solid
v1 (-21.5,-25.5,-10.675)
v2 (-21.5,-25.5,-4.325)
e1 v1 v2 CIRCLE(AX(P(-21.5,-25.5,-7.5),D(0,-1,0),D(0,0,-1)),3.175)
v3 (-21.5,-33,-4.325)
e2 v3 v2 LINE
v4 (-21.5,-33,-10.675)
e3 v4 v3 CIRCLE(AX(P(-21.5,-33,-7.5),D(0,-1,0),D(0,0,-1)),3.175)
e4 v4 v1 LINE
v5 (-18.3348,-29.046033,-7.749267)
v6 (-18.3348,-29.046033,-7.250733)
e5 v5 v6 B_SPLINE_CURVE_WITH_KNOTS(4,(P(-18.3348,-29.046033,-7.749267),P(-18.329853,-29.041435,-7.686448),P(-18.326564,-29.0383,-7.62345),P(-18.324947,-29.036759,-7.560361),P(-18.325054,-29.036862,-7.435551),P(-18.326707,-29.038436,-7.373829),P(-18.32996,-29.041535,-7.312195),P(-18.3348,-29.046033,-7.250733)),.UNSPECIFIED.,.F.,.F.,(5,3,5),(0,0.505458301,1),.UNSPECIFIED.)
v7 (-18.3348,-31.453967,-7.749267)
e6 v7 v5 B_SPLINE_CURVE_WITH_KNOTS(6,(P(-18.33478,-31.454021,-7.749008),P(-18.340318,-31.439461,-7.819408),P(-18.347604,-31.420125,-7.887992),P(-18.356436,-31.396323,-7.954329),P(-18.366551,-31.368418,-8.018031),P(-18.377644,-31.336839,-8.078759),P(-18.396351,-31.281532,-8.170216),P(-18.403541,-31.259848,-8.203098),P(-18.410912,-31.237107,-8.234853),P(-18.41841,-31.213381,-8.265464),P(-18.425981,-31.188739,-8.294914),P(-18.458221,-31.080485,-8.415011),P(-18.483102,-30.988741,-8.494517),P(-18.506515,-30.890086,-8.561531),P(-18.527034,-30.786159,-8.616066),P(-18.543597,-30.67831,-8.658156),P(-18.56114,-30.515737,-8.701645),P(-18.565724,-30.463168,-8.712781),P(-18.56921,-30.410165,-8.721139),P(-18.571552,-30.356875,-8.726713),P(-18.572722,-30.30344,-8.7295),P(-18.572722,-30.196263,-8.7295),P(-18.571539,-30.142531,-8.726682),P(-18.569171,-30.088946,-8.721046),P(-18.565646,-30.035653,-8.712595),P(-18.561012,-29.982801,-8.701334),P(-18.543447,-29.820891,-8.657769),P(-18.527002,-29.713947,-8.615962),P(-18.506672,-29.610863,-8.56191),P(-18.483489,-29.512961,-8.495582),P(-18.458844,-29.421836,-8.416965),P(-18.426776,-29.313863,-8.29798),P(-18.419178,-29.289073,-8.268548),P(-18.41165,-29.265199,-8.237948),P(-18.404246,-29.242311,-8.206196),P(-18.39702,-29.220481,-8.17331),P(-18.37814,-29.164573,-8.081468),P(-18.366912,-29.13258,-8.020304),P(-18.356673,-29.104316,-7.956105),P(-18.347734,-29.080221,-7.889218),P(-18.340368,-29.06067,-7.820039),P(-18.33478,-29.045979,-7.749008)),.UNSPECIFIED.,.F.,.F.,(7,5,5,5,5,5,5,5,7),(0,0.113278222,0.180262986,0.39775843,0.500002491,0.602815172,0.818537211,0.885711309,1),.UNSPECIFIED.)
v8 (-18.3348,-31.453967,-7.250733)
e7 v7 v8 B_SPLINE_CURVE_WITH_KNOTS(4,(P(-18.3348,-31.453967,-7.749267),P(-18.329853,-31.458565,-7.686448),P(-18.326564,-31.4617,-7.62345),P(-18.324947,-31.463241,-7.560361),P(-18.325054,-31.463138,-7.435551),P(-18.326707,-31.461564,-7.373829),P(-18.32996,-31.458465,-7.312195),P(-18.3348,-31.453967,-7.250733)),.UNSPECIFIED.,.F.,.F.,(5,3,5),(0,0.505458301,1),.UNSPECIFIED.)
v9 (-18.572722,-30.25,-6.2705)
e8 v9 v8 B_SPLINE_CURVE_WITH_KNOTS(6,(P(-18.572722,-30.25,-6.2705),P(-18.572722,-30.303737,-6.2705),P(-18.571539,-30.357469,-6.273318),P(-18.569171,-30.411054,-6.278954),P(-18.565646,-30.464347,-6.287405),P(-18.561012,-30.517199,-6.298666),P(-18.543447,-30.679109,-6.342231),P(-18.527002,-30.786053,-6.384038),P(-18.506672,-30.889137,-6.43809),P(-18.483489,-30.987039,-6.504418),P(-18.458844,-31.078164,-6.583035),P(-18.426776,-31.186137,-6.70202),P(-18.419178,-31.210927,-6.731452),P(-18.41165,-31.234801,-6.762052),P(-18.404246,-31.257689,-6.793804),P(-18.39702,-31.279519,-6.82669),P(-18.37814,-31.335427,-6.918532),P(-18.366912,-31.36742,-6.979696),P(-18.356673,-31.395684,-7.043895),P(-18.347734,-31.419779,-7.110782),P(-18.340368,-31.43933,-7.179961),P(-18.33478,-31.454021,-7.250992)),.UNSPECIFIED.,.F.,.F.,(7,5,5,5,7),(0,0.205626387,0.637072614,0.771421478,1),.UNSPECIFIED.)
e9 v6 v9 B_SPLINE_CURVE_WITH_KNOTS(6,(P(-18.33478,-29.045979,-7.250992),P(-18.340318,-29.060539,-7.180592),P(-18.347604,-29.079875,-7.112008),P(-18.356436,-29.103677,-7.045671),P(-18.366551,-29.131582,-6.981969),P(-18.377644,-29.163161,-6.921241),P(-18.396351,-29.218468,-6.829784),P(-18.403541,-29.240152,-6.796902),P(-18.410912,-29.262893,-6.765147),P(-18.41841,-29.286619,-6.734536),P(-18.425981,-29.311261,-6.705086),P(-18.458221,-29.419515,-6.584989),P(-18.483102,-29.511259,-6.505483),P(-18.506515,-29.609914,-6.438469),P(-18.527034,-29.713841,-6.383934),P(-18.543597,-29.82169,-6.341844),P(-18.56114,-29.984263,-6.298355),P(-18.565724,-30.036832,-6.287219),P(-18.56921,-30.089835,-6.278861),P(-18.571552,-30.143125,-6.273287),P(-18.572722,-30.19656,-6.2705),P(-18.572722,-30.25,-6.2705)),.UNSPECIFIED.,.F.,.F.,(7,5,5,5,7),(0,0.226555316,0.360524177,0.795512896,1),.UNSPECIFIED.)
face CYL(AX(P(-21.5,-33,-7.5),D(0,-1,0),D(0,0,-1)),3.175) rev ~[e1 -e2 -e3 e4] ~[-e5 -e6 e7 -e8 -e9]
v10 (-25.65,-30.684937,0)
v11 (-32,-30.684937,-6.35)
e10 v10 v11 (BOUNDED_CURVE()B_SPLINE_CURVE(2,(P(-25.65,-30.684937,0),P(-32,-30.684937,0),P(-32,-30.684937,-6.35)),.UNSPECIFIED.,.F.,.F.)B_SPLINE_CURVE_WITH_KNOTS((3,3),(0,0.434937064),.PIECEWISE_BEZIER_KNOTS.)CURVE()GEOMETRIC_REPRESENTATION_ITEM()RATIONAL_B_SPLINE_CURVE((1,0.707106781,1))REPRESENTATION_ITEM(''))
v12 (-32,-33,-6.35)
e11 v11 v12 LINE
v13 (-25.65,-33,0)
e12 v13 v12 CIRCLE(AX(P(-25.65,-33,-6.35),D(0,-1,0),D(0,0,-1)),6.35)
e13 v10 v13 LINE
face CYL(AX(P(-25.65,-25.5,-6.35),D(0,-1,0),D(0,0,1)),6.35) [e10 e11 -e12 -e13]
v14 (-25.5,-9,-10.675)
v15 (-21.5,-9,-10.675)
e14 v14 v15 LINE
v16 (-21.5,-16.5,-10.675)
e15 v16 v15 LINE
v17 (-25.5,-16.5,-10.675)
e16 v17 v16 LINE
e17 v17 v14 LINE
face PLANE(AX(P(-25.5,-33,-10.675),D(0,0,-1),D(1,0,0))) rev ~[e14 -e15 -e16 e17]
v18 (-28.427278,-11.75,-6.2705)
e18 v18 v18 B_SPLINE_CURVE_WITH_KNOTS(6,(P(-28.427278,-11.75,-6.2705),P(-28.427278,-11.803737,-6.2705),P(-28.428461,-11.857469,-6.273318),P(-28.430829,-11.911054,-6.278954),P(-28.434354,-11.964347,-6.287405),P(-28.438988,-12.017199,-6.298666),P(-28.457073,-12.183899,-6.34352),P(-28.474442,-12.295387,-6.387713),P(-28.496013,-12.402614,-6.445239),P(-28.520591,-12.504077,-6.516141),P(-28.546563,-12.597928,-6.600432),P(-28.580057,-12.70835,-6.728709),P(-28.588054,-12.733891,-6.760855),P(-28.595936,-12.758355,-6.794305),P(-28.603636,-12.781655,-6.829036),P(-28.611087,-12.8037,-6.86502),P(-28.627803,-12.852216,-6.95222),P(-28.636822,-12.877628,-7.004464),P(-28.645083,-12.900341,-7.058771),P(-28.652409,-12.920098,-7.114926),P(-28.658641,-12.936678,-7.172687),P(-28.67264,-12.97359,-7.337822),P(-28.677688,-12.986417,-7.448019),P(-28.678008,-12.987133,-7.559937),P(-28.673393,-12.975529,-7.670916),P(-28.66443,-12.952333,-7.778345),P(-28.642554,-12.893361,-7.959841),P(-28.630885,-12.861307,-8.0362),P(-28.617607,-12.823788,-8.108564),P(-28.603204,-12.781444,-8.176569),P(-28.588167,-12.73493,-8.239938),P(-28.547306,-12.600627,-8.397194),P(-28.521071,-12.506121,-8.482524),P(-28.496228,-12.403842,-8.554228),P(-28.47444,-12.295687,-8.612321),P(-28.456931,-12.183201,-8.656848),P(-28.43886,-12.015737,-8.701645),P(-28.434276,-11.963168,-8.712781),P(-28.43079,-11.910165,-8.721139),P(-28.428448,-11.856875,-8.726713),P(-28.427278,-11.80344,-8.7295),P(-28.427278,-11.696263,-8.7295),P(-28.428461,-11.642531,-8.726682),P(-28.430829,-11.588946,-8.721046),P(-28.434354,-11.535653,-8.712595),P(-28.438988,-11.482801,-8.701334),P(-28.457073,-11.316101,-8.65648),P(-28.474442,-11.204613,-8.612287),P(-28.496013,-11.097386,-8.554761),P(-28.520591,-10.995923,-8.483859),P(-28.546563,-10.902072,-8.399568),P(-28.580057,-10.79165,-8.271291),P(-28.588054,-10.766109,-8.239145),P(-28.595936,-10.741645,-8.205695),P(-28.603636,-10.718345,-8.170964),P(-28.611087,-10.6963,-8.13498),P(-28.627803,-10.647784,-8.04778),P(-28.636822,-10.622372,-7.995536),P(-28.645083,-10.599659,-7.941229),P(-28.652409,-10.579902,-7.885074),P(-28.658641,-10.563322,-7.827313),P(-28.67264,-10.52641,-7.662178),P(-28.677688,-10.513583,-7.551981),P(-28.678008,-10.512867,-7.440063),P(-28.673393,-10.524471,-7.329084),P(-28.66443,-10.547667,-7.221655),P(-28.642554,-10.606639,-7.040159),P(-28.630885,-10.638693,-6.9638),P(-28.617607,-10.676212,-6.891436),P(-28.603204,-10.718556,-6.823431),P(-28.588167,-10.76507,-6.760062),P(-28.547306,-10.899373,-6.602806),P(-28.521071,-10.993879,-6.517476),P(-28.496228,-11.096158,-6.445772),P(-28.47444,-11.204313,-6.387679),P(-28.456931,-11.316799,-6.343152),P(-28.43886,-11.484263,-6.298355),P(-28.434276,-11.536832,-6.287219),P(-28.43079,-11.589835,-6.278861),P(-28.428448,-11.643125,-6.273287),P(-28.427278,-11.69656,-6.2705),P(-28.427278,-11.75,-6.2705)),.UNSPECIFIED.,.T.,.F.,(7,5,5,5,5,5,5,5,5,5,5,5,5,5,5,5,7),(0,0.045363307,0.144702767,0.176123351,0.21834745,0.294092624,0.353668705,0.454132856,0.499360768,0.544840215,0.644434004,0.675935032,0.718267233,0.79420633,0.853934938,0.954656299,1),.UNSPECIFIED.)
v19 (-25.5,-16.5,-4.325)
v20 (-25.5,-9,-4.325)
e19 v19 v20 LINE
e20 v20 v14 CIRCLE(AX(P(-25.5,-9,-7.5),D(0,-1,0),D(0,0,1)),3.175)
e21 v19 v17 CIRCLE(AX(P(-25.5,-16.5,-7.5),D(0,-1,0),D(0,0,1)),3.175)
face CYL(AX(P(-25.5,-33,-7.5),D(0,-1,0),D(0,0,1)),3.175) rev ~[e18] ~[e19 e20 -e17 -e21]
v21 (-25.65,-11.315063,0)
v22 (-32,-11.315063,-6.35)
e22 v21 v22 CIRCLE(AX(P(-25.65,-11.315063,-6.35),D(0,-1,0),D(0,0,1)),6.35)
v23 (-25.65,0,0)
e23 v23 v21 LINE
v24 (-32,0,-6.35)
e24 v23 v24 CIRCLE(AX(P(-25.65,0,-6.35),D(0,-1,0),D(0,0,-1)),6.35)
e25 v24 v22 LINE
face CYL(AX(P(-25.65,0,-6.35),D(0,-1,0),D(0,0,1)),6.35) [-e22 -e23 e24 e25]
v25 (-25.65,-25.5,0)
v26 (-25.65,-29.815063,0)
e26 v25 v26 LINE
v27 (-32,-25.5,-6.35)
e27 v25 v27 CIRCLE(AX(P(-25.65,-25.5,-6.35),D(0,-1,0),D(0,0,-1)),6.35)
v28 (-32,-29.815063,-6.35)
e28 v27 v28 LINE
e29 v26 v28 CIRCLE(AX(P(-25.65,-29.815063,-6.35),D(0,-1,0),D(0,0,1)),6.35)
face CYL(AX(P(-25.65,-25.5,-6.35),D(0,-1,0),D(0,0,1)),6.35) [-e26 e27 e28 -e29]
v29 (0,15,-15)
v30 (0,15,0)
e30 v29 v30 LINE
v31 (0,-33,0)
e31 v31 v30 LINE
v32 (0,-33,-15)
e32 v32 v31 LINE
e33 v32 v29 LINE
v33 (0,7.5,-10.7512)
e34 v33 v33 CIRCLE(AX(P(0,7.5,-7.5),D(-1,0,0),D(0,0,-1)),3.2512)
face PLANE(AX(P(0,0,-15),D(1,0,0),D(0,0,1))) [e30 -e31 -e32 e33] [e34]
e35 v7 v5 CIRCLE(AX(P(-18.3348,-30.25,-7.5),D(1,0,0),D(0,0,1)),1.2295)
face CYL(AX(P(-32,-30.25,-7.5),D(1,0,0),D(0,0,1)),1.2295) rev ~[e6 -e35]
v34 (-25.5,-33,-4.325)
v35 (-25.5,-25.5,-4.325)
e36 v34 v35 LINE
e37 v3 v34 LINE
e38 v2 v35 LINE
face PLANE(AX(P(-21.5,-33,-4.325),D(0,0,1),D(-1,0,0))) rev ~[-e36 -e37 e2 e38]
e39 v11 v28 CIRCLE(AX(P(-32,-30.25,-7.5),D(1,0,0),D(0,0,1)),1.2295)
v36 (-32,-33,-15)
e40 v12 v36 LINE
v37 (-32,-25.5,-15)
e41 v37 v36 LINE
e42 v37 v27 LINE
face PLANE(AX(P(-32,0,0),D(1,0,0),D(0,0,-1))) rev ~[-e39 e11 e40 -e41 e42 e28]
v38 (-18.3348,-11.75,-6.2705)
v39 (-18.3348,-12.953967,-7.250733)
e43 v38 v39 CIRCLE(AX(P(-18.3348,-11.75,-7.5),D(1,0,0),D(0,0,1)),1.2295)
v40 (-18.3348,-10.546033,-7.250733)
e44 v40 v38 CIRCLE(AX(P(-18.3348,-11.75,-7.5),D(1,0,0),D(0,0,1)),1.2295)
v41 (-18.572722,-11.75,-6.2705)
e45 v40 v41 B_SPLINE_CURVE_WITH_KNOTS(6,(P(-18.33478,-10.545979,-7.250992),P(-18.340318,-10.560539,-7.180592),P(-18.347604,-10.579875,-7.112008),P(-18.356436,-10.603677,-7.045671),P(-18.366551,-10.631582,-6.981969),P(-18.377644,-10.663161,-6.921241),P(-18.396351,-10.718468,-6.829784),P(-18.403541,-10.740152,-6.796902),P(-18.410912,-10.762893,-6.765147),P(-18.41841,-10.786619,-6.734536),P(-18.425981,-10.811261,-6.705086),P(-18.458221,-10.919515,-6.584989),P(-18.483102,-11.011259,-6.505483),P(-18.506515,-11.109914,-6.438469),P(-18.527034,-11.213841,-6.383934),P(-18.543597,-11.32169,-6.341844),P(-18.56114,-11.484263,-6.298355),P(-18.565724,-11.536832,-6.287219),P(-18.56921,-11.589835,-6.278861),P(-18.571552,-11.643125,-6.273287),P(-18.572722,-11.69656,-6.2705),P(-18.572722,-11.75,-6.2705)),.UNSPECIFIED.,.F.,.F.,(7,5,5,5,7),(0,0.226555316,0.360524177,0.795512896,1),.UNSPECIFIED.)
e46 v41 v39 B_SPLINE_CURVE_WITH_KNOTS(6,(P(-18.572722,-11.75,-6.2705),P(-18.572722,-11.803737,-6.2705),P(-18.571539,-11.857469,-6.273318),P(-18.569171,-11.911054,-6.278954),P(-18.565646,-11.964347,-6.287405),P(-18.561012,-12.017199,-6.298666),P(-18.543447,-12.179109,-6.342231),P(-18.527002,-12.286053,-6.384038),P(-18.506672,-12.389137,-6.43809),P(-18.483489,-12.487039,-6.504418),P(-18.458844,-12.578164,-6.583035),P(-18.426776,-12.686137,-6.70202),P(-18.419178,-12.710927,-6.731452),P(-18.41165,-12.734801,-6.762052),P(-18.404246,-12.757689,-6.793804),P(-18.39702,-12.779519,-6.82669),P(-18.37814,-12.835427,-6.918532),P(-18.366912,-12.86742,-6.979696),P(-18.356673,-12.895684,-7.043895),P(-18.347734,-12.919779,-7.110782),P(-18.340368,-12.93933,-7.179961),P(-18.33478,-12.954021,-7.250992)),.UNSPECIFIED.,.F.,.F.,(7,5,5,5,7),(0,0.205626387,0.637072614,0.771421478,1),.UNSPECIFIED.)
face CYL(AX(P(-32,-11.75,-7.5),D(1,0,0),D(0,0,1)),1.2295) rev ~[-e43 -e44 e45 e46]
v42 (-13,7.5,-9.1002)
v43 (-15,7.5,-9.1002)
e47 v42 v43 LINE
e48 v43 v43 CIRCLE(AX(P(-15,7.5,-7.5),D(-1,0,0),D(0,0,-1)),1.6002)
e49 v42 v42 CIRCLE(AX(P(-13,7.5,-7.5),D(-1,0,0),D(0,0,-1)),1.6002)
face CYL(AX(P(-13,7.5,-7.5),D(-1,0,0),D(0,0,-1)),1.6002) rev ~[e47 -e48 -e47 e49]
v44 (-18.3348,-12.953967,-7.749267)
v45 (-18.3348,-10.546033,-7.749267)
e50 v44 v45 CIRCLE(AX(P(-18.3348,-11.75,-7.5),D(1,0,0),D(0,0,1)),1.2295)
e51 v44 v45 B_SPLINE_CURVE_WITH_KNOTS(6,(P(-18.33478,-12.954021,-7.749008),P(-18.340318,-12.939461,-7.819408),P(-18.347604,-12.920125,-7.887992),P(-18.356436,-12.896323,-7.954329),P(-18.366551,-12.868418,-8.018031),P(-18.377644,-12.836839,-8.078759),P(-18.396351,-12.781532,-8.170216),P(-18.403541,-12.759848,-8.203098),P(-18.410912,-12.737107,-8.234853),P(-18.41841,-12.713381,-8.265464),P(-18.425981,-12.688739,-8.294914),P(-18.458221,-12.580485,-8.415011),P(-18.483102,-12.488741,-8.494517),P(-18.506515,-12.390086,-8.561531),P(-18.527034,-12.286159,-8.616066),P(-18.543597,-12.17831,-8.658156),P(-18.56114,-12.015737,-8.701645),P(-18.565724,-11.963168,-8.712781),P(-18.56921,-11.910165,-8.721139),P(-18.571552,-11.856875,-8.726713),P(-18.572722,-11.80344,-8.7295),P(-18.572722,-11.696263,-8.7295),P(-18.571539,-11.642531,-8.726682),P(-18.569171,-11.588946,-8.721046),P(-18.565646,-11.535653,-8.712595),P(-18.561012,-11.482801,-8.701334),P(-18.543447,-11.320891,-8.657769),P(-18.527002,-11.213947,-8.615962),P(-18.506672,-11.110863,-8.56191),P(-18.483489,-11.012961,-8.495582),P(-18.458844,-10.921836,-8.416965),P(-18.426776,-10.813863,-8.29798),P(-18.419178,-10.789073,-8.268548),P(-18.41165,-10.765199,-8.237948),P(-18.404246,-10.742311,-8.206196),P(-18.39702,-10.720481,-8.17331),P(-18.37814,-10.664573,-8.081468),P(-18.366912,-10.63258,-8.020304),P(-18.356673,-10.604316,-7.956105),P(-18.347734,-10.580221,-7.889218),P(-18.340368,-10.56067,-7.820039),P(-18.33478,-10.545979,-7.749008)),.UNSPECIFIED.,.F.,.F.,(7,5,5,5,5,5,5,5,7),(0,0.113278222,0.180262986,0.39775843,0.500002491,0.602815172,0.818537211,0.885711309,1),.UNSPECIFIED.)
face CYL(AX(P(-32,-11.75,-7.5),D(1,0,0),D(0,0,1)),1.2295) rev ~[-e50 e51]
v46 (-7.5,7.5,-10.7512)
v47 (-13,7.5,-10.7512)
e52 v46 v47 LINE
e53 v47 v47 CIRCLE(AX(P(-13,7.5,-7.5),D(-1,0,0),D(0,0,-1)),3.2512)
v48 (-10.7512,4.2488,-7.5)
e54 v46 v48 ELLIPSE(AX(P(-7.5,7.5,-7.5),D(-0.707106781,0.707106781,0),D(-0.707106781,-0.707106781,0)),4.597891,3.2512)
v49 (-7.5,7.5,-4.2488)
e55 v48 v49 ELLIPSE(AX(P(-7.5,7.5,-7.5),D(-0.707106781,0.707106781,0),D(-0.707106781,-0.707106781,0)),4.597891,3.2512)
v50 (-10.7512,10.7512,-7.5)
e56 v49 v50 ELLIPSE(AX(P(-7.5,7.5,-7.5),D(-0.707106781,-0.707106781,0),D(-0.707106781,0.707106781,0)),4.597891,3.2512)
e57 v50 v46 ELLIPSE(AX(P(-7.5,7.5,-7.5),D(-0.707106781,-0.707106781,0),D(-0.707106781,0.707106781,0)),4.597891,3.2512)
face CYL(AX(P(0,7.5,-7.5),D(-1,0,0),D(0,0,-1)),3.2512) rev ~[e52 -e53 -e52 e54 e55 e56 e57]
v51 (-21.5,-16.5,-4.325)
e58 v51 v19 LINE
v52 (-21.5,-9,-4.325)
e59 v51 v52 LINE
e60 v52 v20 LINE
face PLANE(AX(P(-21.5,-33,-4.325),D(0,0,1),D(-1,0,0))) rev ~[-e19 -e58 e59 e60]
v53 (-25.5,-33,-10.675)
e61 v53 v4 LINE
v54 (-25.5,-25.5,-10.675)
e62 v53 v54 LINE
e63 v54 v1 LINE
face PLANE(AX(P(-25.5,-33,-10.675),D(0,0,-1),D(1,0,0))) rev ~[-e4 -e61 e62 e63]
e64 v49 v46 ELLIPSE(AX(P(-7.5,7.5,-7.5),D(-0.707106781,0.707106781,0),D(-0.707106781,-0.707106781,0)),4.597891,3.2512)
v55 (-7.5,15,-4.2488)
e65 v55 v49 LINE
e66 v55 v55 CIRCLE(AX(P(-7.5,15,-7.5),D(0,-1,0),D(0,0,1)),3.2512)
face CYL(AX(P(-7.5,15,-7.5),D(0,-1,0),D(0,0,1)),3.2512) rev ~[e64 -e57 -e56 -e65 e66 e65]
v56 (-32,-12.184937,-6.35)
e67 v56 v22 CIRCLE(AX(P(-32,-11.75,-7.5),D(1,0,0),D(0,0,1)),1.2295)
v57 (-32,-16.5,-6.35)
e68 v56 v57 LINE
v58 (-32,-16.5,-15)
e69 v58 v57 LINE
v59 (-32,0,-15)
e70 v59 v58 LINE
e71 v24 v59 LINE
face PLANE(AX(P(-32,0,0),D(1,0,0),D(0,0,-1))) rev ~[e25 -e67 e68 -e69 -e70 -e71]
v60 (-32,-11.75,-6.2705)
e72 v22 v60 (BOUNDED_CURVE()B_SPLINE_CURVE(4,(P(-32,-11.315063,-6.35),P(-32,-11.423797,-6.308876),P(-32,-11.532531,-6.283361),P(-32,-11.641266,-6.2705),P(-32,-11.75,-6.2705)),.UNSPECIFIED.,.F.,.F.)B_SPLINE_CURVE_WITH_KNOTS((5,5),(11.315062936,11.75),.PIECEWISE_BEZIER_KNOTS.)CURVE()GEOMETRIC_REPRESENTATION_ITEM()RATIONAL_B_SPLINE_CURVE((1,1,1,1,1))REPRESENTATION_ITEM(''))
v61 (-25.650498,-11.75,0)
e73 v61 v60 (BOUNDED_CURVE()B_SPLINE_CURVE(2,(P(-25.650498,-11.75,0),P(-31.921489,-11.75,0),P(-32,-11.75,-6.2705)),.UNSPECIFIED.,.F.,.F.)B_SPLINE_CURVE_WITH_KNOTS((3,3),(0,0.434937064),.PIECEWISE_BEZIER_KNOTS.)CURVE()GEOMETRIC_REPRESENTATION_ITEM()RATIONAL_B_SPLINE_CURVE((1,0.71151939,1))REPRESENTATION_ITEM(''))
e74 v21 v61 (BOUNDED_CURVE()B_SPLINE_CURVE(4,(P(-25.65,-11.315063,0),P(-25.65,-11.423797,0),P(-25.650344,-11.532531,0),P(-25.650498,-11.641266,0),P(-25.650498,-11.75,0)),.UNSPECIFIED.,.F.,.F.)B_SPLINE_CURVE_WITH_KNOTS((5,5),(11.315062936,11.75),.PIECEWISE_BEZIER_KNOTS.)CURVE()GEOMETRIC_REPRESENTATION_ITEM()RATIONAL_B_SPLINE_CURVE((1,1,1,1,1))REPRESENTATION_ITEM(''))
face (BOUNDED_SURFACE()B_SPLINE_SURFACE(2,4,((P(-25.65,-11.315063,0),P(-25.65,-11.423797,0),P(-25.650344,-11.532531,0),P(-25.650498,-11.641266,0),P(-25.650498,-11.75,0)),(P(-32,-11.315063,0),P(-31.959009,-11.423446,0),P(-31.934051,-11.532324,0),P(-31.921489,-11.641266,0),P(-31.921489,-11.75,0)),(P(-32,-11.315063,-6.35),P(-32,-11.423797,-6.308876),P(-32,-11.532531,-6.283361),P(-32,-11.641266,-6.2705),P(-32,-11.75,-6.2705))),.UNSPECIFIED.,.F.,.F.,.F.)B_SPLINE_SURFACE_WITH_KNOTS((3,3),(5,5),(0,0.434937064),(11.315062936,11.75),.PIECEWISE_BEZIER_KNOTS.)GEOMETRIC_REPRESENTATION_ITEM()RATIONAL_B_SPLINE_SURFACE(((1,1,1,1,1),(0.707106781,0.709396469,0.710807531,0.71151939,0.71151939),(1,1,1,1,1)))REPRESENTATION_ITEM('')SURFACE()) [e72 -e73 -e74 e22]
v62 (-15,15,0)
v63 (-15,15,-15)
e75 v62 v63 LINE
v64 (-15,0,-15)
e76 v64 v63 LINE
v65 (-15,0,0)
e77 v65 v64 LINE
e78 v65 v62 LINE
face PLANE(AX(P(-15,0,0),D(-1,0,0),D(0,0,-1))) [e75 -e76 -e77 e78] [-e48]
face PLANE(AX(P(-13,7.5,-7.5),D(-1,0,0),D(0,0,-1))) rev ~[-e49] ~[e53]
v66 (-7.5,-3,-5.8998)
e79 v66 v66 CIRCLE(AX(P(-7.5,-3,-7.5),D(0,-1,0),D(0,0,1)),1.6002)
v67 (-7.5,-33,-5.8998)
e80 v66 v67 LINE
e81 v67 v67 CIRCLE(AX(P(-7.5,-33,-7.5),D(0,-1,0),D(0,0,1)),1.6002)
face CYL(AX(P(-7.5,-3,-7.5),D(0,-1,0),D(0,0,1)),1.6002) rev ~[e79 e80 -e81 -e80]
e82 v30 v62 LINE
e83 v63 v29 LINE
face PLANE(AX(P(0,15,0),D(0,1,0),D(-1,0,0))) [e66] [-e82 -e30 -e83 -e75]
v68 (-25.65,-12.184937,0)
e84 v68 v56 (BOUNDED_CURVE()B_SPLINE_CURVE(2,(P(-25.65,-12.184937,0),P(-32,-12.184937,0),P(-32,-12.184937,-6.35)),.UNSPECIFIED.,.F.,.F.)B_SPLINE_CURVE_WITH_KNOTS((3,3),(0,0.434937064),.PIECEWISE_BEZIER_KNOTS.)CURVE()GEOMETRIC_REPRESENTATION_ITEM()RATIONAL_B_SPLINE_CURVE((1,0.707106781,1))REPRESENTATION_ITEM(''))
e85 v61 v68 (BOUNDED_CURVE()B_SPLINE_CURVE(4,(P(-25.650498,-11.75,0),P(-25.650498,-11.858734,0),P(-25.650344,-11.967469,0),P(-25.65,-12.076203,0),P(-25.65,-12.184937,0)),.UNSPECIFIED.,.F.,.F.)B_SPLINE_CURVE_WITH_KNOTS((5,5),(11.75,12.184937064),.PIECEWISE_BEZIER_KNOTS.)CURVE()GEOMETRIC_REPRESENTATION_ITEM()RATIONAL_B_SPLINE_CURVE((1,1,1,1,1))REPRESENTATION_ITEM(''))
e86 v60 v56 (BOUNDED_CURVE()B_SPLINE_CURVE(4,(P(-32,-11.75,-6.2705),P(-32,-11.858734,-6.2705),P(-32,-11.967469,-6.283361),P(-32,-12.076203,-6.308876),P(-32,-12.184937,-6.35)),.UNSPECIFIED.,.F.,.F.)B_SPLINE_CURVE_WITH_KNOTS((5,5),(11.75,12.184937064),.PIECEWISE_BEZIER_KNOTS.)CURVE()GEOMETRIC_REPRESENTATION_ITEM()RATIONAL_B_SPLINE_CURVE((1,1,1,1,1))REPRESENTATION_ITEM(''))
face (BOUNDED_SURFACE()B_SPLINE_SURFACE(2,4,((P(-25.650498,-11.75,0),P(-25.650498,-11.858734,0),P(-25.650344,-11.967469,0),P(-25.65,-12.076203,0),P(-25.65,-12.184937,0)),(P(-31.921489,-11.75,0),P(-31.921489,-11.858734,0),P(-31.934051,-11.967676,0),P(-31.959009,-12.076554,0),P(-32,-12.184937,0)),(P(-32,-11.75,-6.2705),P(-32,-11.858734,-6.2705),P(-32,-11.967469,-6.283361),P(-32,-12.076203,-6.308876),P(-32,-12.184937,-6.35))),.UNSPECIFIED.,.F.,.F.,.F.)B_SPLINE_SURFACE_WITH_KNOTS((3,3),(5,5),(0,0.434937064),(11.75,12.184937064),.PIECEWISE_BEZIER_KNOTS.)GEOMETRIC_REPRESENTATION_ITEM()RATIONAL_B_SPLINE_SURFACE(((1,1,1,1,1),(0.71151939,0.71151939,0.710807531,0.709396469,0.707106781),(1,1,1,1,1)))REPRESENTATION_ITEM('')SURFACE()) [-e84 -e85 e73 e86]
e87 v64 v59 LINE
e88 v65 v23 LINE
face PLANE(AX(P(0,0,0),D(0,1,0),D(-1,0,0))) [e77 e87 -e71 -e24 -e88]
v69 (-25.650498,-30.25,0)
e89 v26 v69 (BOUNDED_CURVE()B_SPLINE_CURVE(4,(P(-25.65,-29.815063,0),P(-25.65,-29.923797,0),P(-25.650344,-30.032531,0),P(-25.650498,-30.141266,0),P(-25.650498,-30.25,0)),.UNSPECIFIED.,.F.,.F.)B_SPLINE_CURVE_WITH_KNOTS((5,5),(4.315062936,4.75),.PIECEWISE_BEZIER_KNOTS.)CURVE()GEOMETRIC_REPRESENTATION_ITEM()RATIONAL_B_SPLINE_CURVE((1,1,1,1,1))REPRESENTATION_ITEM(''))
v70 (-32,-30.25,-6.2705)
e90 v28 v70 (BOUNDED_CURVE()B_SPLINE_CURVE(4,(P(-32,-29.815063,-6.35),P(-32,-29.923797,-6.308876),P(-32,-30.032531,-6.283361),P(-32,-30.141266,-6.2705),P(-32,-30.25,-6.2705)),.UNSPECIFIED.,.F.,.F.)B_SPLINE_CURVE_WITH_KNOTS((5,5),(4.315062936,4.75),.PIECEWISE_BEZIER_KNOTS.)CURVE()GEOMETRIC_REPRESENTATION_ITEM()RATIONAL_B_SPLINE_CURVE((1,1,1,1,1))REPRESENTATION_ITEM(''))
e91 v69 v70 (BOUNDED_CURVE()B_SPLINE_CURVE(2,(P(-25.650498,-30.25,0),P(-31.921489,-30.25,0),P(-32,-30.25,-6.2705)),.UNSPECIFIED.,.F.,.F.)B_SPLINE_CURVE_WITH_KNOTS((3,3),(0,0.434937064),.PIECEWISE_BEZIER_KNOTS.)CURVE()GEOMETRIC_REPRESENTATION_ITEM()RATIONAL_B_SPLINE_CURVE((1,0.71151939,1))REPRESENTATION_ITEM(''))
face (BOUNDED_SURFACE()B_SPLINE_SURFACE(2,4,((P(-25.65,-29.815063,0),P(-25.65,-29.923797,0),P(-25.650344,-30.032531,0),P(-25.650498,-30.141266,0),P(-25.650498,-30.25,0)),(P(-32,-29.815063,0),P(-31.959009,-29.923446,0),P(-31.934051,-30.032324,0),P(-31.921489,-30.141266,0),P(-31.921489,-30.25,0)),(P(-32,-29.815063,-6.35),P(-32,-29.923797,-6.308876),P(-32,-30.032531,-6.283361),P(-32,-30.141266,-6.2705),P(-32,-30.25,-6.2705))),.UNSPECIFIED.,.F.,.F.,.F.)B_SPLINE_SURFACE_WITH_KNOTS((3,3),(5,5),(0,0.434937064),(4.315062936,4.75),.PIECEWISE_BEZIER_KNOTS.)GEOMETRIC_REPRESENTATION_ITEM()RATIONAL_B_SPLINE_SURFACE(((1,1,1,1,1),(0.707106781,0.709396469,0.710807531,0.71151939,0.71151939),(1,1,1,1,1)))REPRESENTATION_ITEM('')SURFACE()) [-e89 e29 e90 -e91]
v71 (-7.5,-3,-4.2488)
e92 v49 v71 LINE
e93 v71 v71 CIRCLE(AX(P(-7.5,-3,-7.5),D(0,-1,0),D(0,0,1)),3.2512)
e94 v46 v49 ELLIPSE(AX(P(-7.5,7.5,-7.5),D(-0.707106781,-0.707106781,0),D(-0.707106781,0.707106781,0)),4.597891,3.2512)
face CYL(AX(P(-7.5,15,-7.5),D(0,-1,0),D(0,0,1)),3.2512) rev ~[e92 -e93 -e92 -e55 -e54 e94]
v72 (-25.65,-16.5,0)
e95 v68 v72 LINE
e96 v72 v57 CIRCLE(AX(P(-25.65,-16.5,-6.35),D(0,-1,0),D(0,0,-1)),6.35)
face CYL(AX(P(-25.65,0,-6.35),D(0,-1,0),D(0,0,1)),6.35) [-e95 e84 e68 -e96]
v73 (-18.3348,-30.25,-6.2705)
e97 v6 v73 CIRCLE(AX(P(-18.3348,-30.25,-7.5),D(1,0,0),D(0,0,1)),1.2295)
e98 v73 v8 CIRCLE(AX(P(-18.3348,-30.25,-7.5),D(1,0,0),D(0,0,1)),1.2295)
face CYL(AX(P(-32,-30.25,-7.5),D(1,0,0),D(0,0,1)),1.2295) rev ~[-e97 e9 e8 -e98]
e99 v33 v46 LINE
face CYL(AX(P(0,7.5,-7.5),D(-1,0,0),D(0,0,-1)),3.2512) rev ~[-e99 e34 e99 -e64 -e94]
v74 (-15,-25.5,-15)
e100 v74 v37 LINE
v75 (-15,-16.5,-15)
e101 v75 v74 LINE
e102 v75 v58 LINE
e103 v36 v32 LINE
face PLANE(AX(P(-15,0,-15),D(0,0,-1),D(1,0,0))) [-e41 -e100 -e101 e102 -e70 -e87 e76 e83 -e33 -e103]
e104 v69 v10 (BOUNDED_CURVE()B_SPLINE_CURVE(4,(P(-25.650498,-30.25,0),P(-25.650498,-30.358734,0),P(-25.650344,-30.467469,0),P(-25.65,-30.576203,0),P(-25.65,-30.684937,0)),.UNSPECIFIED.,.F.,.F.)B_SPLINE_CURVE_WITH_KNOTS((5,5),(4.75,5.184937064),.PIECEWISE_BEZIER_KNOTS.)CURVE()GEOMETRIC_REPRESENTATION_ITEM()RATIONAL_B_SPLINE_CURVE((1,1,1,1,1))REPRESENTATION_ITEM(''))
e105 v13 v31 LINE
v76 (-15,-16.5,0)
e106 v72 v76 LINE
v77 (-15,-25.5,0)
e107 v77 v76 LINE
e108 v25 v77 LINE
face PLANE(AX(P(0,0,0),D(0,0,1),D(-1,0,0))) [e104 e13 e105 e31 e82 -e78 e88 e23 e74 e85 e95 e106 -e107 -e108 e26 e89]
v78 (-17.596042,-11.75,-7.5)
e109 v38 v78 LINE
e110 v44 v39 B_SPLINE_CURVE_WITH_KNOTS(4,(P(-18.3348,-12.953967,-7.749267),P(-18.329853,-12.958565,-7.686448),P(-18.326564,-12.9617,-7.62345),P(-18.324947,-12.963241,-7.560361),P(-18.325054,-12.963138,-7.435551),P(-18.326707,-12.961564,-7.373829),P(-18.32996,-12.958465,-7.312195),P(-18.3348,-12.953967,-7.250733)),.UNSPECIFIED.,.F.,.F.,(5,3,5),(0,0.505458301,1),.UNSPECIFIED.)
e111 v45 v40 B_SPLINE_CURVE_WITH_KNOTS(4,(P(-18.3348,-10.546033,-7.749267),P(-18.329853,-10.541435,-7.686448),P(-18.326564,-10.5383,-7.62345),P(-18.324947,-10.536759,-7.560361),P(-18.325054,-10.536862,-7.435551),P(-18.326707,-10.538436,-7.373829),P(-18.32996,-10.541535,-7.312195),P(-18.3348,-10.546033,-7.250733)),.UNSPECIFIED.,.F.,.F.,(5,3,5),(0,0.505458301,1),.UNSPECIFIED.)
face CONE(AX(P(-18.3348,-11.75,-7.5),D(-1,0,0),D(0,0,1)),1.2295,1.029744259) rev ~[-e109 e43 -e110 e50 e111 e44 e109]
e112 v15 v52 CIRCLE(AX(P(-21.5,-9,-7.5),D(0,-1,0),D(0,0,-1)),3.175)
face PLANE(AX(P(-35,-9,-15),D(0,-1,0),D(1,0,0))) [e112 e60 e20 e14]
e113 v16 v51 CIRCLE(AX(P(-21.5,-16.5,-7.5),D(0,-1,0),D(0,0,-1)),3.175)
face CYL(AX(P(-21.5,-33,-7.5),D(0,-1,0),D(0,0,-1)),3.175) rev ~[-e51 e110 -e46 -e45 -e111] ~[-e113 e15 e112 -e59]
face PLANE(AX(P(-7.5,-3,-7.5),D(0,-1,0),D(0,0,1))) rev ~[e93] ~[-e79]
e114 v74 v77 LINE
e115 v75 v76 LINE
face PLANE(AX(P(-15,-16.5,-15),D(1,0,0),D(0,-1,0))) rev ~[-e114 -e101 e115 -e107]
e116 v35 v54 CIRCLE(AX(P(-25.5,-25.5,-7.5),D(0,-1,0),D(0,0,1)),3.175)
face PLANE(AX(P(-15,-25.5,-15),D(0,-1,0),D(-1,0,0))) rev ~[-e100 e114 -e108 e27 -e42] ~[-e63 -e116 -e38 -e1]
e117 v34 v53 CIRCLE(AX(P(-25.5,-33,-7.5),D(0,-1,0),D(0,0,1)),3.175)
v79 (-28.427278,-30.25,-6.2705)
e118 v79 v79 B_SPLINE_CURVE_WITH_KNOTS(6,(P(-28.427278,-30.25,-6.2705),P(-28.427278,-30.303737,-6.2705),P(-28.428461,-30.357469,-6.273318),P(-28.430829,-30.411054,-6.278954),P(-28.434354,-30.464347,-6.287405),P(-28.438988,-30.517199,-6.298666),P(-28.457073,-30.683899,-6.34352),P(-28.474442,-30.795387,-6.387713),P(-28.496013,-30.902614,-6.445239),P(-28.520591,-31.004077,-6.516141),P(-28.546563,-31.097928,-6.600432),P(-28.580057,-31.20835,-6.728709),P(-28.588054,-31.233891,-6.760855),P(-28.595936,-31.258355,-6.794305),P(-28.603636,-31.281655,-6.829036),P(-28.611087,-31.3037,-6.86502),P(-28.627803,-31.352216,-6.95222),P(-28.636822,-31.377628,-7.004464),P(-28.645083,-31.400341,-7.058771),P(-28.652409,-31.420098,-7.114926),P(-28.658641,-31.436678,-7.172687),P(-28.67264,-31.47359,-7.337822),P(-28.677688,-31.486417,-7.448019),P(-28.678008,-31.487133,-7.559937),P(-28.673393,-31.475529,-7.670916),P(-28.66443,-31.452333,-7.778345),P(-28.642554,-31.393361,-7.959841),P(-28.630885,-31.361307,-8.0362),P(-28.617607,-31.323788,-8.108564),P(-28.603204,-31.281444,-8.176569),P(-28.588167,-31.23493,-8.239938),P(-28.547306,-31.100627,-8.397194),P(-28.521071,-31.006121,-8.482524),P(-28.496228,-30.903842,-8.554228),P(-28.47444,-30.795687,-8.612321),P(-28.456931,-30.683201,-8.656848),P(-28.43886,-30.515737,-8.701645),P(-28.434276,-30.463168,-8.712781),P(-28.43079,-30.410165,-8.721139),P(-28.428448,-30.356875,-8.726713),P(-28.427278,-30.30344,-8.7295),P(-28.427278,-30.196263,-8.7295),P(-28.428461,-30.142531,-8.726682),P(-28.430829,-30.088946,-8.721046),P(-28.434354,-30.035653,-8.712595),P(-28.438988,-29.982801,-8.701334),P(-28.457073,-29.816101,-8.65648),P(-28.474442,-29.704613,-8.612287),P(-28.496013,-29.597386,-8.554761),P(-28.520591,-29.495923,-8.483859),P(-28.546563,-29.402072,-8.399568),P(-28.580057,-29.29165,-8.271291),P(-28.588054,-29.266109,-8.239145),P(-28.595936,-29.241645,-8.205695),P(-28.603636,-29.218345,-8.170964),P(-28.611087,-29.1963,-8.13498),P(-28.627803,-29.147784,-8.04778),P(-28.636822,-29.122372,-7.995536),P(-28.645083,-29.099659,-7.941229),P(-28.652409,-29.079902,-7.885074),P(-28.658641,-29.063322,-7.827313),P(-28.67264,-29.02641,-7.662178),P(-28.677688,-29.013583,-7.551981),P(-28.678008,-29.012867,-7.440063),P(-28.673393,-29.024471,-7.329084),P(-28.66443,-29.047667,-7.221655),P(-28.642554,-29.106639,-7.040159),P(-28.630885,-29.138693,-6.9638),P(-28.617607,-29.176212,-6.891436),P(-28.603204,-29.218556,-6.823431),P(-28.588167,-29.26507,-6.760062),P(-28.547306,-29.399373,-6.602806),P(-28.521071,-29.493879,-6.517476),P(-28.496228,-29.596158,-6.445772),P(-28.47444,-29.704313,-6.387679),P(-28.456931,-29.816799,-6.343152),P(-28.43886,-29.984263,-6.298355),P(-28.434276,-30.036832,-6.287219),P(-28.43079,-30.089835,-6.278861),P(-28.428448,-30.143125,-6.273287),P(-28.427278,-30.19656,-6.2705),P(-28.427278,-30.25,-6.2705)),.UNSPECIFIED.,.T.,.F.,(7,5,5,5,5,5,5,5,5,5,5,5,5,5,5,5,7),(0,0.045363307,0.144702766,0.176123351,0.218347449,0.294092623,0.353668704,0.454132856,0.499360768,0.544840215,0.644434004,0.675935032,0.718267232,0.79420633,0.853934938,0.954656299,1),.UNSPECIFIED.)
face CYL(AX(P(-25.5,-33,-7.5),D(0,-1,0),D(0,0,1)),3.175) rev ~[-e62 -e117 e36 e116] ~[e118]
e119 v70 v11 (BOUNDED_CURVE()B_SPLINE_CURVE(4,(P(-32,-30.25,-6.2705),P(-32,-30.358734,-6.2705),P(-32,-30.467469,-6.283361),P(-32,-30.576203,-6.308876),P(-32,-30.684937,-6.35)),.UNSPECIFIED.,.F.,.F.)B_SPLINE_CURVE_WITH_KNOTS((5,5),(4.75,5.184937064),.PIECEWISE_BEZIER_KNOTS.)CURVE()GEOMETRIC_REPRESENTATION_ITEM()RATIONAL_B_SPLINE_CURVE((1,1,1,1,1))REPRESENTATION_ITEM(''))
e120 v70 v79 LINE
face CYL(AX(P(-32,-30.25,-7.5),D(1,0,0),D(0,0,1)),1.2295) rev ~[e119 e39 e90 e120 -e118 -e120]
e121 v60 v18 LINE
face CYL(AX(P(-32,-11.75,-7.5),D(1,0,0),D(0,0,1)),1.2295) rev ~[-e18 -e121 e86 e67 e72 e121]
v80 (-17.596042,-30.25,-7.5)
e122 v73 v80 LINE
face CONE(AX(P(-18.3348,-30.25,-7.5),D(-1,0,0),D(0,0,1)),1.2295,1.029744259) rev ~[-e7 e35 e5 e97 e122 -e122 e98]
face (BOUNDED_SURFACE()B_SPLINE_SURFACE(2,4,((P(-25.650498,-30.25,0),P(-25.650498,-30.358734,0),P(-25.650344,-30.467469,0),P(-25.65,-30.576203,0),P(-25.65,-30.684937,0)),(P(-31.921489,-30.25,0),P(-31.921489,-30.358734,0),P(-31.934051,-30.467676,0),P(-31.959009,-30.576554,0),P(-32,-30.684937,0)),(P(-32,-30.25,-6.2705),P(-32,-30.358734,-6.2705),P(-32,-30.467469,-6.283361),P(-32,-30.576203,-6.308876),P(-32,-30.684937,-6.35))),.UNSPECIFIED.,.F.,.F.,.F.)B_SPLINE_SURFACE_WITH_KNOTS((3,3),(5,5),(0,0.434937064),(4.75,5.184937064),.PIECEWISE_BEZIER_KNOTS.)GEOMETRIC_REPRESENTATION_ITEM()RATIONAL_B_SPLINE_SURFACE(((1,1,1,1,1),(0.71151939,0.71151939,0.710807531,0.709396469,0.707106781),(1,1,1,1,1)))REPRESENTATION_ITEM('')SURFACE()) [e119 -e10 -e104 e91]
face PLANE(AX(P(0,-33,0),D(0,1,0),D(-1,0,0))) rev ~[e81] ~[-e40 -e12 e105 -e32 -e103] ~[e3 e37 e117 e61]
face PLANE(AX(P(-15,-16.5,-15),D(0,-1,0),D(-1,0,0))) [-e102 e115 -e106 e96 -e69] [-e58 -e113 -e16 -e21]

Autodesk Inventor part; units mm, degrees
ref_plane "YZ Plane" through (0, 0, 0) normal (1, 0, 0) x (0, 1, 0)
ref_plane "XZ Plane" through (0, 0, 0) normal (0, 1, 0) x (-1, 0, 0)
ref_plane "XY Plane" through (0, 0, 0) normal (0, 0, 1) x (1, 0, 0)
sketch "Base Profile" plane through (0, 0, 0) normal (0, 1, 0) x (-1, 0, 0)
  line L0 (0, 0) -> (15, 0)
  line L1 (15, 0) -> (15, -15)
  line L2 (15, -15) -> (0, -15)
  line L3 (0, -15) -> (0, 0)
  line L4 (15, 0) -> (32, 0)
  line L5 (32, 0) -> (32, -15)
  line L6 (32, -15) -> (15, -15)
  line L7 (15, -15) -> (15, 0)
  dimension "d164" = 15
  dimension "d165" = 15
  dimension "d166" = 17
  dimension "d167" = 15
extrude "Stock" add sketch "Base Profile" against normal blind 33
extrude "Extrusion Post" add sketch "Base Profile" along normal blind 15 contours L0 L1 L2 L3
sketch "Sketch27" plane through (0, -33, -15) normal (0, 0, -1) x (-1, 0, 0)
  line L0 (0, 0) -> (0, 48) projected
  line L1 (32, 0) -> (0, 0) projected
  line L2 (32, 33) -> (32, 0) projected
  line L3 (15, 33) -> (32, 33) projected
  line L4 (15, 33) -> (15, 48) projected
  line L5 (0, 48) -> (15, 48) projected
  line L6 (0, 16.5) -> (32, 16.5)
  line L7 (0, 7.5) -> (32, 7.5)
  line L8 (15, 33) -> (15, 0)
  point P0 (15, 16.5)
  point P1 (15, 7.5)
  dimension "d247" = 16.5
  dimension "d290" = 7.5
extrude "Lower Half Cut" cut sketch "Sketch27" against normal through all contours L8 L6 L2 L7
sketch "Bottom Profile" plane through (-35, -33, -15) normal (0, -1, 0) x (1, 0, 0)
  line L0 (13.5, 7.5) -> (9.5, 7.5) construction
  line L1 (13.5, 10.675) -> (9.5, 10.675)
  line L2 (9.5, 4.325) -> (13.5, 4.325)
  arc A0 (13.5, 4.325) -> (13.5, 10.675) centre (13.5, 7.5) ccw
  arc A1 (9.5, 10.675) -> (9.5, 4.325) centre (9.5, 7.5) ccw
  line L3 (3, 15) -> (3, 0) projected
  line L4 (35, 15) -> (3, 15) projected
  point P0 (11.5, 7.5)
  dimension "d291" = 4
  dimension "d292" = 6.35
  dimension "d293" = 6.5
  dimension "d294" = 7.5
extrude "Slot Cut" cut sketch "Bottom Profile" against normal blind 24
sketch "Front Hole Pattern" plane through (0, -33, 0) normal (1, 0, 0) x (0, 0, -1)
  line L0 (0, 0) -> (0, 48) projected
  circle A0 centre (7.5, 40.5) radius 3.175
  line L1 (0, 48) -> (15, 48) projected
  dimension "d317" = 6.35
  dimension "d318" = 7.5
  dimension "d319" = 7.5
sketch "Rear Hole Patttern" plane through (-32, -33, -15) normal (-1, 0, 0) x (0, 0, 1)
  line L0 (15, 7.5) -> (0, 7.5) projected
  line L1 (0, 7.5) -> (0, 0) projected
  line L2 (15, 0) -> (0, 0) projected
  line L3 (15, 7.5) -> (15, 0) projected
  line L4 (0, 5.5) -> (15, 5.5) construction
  circle A0 centre (7.5, 2.75) radius 1.5
  line L5 (0, 16.5) -> (15, 16.5) projected
  line L6 (15, 33) -> (15, 16.5) projected
  line L7 (0, 33) -> (15, 33) projected
  line L8 (0, 33) -> (0, 16.5) projected
  line L9 (0, 18.5) -> (15, 18.5) construction
  line L10 (0, 24) -> (15, 24) construction
  circle A1 centre (7.5, 21.25) radius 1.5
  dimension "d328" = 2
  dimension "d329" = 7.5
  dimension "d330" = 3
  dimension "d331" = 7.5
  dimension "d332" = 2.75
  dimension "d350" = 2
  dimension "d351" = 7.5
  dimension "d352" = 3
  dimension "d353" = 2.75
hole "Rear Holes" at (-32, -30.25, -7.5) at (-32, -11.75, -7.5) direction (1, 0, 0) diameter 2.459 depth 13.6652 tip angle 118 thread size "M3x0.5" class "6H" standard "ANSI Metric M Profile"
hole "Front Mounting Hole" at (0, 7.5, -7.5) direction (-1, 0, 0) diameter 3.2004 end through all counterbore diameter 6.5024 counterbore depth 13 clearance for "Socket Head Cap Screw" size "M3" standard "Ansi Metric M Profile"
sketch "Sketch33" plane through (0, 15, 0) normal (0, 1, 0) x (1, 0, 0)
  line L0 (-15, 15) -> (-15, 0) projected
  line L1 (-15, 0) -> (0, 0) projected
  line L2 (0, 0) -> (0, 15) projected
  line L3 (0, 15) -> (-15, 15) projected
  circle A0 centre (-7.5, 7.5) radius 3.175
  dimension "d340" = 6.35
  dimension "d341" = 7.5
  dimension "d342" = 7.5
hole "Top Mounting Hole" at (-7.5, 15, -7.5) direction (0, -1, 0) diameter 3.2004 end through all counterbore diameter 6.5024 counterbore depth 18 clearance for "Socket Head Cap Screw" size "M3" standard "Ansi Metric M Profile"
fillet "Fillet2" radius 6.35 2 edges at (-32, -29.25, 0) (-32, -8.25, 0)
equation "\"d164\" = extrusionWidth"
equation "\"d165\" = extrusionWidth"
equation "\"d166\" = idlerLength"
equation "\"d167\" = d165"
equation "\"d168\" = extrusionOffset"
equation "\"extrusionWidth\" = 15"
equation "\"idlerLength\" = 17"
equation "\"bearingOffsetFromBottom\" = 7.5"
equation "\"extrusionOffset\" = 33"
equation "\"bearingStackHeight\" = 9"
equation "\"bearingSlotLength\" = 4"
equation "\"bearingClearance\" = 13"
equation "\"pinSupportLength\" = 2"
properties part number "A Idler" material "Aluminum 6061"
